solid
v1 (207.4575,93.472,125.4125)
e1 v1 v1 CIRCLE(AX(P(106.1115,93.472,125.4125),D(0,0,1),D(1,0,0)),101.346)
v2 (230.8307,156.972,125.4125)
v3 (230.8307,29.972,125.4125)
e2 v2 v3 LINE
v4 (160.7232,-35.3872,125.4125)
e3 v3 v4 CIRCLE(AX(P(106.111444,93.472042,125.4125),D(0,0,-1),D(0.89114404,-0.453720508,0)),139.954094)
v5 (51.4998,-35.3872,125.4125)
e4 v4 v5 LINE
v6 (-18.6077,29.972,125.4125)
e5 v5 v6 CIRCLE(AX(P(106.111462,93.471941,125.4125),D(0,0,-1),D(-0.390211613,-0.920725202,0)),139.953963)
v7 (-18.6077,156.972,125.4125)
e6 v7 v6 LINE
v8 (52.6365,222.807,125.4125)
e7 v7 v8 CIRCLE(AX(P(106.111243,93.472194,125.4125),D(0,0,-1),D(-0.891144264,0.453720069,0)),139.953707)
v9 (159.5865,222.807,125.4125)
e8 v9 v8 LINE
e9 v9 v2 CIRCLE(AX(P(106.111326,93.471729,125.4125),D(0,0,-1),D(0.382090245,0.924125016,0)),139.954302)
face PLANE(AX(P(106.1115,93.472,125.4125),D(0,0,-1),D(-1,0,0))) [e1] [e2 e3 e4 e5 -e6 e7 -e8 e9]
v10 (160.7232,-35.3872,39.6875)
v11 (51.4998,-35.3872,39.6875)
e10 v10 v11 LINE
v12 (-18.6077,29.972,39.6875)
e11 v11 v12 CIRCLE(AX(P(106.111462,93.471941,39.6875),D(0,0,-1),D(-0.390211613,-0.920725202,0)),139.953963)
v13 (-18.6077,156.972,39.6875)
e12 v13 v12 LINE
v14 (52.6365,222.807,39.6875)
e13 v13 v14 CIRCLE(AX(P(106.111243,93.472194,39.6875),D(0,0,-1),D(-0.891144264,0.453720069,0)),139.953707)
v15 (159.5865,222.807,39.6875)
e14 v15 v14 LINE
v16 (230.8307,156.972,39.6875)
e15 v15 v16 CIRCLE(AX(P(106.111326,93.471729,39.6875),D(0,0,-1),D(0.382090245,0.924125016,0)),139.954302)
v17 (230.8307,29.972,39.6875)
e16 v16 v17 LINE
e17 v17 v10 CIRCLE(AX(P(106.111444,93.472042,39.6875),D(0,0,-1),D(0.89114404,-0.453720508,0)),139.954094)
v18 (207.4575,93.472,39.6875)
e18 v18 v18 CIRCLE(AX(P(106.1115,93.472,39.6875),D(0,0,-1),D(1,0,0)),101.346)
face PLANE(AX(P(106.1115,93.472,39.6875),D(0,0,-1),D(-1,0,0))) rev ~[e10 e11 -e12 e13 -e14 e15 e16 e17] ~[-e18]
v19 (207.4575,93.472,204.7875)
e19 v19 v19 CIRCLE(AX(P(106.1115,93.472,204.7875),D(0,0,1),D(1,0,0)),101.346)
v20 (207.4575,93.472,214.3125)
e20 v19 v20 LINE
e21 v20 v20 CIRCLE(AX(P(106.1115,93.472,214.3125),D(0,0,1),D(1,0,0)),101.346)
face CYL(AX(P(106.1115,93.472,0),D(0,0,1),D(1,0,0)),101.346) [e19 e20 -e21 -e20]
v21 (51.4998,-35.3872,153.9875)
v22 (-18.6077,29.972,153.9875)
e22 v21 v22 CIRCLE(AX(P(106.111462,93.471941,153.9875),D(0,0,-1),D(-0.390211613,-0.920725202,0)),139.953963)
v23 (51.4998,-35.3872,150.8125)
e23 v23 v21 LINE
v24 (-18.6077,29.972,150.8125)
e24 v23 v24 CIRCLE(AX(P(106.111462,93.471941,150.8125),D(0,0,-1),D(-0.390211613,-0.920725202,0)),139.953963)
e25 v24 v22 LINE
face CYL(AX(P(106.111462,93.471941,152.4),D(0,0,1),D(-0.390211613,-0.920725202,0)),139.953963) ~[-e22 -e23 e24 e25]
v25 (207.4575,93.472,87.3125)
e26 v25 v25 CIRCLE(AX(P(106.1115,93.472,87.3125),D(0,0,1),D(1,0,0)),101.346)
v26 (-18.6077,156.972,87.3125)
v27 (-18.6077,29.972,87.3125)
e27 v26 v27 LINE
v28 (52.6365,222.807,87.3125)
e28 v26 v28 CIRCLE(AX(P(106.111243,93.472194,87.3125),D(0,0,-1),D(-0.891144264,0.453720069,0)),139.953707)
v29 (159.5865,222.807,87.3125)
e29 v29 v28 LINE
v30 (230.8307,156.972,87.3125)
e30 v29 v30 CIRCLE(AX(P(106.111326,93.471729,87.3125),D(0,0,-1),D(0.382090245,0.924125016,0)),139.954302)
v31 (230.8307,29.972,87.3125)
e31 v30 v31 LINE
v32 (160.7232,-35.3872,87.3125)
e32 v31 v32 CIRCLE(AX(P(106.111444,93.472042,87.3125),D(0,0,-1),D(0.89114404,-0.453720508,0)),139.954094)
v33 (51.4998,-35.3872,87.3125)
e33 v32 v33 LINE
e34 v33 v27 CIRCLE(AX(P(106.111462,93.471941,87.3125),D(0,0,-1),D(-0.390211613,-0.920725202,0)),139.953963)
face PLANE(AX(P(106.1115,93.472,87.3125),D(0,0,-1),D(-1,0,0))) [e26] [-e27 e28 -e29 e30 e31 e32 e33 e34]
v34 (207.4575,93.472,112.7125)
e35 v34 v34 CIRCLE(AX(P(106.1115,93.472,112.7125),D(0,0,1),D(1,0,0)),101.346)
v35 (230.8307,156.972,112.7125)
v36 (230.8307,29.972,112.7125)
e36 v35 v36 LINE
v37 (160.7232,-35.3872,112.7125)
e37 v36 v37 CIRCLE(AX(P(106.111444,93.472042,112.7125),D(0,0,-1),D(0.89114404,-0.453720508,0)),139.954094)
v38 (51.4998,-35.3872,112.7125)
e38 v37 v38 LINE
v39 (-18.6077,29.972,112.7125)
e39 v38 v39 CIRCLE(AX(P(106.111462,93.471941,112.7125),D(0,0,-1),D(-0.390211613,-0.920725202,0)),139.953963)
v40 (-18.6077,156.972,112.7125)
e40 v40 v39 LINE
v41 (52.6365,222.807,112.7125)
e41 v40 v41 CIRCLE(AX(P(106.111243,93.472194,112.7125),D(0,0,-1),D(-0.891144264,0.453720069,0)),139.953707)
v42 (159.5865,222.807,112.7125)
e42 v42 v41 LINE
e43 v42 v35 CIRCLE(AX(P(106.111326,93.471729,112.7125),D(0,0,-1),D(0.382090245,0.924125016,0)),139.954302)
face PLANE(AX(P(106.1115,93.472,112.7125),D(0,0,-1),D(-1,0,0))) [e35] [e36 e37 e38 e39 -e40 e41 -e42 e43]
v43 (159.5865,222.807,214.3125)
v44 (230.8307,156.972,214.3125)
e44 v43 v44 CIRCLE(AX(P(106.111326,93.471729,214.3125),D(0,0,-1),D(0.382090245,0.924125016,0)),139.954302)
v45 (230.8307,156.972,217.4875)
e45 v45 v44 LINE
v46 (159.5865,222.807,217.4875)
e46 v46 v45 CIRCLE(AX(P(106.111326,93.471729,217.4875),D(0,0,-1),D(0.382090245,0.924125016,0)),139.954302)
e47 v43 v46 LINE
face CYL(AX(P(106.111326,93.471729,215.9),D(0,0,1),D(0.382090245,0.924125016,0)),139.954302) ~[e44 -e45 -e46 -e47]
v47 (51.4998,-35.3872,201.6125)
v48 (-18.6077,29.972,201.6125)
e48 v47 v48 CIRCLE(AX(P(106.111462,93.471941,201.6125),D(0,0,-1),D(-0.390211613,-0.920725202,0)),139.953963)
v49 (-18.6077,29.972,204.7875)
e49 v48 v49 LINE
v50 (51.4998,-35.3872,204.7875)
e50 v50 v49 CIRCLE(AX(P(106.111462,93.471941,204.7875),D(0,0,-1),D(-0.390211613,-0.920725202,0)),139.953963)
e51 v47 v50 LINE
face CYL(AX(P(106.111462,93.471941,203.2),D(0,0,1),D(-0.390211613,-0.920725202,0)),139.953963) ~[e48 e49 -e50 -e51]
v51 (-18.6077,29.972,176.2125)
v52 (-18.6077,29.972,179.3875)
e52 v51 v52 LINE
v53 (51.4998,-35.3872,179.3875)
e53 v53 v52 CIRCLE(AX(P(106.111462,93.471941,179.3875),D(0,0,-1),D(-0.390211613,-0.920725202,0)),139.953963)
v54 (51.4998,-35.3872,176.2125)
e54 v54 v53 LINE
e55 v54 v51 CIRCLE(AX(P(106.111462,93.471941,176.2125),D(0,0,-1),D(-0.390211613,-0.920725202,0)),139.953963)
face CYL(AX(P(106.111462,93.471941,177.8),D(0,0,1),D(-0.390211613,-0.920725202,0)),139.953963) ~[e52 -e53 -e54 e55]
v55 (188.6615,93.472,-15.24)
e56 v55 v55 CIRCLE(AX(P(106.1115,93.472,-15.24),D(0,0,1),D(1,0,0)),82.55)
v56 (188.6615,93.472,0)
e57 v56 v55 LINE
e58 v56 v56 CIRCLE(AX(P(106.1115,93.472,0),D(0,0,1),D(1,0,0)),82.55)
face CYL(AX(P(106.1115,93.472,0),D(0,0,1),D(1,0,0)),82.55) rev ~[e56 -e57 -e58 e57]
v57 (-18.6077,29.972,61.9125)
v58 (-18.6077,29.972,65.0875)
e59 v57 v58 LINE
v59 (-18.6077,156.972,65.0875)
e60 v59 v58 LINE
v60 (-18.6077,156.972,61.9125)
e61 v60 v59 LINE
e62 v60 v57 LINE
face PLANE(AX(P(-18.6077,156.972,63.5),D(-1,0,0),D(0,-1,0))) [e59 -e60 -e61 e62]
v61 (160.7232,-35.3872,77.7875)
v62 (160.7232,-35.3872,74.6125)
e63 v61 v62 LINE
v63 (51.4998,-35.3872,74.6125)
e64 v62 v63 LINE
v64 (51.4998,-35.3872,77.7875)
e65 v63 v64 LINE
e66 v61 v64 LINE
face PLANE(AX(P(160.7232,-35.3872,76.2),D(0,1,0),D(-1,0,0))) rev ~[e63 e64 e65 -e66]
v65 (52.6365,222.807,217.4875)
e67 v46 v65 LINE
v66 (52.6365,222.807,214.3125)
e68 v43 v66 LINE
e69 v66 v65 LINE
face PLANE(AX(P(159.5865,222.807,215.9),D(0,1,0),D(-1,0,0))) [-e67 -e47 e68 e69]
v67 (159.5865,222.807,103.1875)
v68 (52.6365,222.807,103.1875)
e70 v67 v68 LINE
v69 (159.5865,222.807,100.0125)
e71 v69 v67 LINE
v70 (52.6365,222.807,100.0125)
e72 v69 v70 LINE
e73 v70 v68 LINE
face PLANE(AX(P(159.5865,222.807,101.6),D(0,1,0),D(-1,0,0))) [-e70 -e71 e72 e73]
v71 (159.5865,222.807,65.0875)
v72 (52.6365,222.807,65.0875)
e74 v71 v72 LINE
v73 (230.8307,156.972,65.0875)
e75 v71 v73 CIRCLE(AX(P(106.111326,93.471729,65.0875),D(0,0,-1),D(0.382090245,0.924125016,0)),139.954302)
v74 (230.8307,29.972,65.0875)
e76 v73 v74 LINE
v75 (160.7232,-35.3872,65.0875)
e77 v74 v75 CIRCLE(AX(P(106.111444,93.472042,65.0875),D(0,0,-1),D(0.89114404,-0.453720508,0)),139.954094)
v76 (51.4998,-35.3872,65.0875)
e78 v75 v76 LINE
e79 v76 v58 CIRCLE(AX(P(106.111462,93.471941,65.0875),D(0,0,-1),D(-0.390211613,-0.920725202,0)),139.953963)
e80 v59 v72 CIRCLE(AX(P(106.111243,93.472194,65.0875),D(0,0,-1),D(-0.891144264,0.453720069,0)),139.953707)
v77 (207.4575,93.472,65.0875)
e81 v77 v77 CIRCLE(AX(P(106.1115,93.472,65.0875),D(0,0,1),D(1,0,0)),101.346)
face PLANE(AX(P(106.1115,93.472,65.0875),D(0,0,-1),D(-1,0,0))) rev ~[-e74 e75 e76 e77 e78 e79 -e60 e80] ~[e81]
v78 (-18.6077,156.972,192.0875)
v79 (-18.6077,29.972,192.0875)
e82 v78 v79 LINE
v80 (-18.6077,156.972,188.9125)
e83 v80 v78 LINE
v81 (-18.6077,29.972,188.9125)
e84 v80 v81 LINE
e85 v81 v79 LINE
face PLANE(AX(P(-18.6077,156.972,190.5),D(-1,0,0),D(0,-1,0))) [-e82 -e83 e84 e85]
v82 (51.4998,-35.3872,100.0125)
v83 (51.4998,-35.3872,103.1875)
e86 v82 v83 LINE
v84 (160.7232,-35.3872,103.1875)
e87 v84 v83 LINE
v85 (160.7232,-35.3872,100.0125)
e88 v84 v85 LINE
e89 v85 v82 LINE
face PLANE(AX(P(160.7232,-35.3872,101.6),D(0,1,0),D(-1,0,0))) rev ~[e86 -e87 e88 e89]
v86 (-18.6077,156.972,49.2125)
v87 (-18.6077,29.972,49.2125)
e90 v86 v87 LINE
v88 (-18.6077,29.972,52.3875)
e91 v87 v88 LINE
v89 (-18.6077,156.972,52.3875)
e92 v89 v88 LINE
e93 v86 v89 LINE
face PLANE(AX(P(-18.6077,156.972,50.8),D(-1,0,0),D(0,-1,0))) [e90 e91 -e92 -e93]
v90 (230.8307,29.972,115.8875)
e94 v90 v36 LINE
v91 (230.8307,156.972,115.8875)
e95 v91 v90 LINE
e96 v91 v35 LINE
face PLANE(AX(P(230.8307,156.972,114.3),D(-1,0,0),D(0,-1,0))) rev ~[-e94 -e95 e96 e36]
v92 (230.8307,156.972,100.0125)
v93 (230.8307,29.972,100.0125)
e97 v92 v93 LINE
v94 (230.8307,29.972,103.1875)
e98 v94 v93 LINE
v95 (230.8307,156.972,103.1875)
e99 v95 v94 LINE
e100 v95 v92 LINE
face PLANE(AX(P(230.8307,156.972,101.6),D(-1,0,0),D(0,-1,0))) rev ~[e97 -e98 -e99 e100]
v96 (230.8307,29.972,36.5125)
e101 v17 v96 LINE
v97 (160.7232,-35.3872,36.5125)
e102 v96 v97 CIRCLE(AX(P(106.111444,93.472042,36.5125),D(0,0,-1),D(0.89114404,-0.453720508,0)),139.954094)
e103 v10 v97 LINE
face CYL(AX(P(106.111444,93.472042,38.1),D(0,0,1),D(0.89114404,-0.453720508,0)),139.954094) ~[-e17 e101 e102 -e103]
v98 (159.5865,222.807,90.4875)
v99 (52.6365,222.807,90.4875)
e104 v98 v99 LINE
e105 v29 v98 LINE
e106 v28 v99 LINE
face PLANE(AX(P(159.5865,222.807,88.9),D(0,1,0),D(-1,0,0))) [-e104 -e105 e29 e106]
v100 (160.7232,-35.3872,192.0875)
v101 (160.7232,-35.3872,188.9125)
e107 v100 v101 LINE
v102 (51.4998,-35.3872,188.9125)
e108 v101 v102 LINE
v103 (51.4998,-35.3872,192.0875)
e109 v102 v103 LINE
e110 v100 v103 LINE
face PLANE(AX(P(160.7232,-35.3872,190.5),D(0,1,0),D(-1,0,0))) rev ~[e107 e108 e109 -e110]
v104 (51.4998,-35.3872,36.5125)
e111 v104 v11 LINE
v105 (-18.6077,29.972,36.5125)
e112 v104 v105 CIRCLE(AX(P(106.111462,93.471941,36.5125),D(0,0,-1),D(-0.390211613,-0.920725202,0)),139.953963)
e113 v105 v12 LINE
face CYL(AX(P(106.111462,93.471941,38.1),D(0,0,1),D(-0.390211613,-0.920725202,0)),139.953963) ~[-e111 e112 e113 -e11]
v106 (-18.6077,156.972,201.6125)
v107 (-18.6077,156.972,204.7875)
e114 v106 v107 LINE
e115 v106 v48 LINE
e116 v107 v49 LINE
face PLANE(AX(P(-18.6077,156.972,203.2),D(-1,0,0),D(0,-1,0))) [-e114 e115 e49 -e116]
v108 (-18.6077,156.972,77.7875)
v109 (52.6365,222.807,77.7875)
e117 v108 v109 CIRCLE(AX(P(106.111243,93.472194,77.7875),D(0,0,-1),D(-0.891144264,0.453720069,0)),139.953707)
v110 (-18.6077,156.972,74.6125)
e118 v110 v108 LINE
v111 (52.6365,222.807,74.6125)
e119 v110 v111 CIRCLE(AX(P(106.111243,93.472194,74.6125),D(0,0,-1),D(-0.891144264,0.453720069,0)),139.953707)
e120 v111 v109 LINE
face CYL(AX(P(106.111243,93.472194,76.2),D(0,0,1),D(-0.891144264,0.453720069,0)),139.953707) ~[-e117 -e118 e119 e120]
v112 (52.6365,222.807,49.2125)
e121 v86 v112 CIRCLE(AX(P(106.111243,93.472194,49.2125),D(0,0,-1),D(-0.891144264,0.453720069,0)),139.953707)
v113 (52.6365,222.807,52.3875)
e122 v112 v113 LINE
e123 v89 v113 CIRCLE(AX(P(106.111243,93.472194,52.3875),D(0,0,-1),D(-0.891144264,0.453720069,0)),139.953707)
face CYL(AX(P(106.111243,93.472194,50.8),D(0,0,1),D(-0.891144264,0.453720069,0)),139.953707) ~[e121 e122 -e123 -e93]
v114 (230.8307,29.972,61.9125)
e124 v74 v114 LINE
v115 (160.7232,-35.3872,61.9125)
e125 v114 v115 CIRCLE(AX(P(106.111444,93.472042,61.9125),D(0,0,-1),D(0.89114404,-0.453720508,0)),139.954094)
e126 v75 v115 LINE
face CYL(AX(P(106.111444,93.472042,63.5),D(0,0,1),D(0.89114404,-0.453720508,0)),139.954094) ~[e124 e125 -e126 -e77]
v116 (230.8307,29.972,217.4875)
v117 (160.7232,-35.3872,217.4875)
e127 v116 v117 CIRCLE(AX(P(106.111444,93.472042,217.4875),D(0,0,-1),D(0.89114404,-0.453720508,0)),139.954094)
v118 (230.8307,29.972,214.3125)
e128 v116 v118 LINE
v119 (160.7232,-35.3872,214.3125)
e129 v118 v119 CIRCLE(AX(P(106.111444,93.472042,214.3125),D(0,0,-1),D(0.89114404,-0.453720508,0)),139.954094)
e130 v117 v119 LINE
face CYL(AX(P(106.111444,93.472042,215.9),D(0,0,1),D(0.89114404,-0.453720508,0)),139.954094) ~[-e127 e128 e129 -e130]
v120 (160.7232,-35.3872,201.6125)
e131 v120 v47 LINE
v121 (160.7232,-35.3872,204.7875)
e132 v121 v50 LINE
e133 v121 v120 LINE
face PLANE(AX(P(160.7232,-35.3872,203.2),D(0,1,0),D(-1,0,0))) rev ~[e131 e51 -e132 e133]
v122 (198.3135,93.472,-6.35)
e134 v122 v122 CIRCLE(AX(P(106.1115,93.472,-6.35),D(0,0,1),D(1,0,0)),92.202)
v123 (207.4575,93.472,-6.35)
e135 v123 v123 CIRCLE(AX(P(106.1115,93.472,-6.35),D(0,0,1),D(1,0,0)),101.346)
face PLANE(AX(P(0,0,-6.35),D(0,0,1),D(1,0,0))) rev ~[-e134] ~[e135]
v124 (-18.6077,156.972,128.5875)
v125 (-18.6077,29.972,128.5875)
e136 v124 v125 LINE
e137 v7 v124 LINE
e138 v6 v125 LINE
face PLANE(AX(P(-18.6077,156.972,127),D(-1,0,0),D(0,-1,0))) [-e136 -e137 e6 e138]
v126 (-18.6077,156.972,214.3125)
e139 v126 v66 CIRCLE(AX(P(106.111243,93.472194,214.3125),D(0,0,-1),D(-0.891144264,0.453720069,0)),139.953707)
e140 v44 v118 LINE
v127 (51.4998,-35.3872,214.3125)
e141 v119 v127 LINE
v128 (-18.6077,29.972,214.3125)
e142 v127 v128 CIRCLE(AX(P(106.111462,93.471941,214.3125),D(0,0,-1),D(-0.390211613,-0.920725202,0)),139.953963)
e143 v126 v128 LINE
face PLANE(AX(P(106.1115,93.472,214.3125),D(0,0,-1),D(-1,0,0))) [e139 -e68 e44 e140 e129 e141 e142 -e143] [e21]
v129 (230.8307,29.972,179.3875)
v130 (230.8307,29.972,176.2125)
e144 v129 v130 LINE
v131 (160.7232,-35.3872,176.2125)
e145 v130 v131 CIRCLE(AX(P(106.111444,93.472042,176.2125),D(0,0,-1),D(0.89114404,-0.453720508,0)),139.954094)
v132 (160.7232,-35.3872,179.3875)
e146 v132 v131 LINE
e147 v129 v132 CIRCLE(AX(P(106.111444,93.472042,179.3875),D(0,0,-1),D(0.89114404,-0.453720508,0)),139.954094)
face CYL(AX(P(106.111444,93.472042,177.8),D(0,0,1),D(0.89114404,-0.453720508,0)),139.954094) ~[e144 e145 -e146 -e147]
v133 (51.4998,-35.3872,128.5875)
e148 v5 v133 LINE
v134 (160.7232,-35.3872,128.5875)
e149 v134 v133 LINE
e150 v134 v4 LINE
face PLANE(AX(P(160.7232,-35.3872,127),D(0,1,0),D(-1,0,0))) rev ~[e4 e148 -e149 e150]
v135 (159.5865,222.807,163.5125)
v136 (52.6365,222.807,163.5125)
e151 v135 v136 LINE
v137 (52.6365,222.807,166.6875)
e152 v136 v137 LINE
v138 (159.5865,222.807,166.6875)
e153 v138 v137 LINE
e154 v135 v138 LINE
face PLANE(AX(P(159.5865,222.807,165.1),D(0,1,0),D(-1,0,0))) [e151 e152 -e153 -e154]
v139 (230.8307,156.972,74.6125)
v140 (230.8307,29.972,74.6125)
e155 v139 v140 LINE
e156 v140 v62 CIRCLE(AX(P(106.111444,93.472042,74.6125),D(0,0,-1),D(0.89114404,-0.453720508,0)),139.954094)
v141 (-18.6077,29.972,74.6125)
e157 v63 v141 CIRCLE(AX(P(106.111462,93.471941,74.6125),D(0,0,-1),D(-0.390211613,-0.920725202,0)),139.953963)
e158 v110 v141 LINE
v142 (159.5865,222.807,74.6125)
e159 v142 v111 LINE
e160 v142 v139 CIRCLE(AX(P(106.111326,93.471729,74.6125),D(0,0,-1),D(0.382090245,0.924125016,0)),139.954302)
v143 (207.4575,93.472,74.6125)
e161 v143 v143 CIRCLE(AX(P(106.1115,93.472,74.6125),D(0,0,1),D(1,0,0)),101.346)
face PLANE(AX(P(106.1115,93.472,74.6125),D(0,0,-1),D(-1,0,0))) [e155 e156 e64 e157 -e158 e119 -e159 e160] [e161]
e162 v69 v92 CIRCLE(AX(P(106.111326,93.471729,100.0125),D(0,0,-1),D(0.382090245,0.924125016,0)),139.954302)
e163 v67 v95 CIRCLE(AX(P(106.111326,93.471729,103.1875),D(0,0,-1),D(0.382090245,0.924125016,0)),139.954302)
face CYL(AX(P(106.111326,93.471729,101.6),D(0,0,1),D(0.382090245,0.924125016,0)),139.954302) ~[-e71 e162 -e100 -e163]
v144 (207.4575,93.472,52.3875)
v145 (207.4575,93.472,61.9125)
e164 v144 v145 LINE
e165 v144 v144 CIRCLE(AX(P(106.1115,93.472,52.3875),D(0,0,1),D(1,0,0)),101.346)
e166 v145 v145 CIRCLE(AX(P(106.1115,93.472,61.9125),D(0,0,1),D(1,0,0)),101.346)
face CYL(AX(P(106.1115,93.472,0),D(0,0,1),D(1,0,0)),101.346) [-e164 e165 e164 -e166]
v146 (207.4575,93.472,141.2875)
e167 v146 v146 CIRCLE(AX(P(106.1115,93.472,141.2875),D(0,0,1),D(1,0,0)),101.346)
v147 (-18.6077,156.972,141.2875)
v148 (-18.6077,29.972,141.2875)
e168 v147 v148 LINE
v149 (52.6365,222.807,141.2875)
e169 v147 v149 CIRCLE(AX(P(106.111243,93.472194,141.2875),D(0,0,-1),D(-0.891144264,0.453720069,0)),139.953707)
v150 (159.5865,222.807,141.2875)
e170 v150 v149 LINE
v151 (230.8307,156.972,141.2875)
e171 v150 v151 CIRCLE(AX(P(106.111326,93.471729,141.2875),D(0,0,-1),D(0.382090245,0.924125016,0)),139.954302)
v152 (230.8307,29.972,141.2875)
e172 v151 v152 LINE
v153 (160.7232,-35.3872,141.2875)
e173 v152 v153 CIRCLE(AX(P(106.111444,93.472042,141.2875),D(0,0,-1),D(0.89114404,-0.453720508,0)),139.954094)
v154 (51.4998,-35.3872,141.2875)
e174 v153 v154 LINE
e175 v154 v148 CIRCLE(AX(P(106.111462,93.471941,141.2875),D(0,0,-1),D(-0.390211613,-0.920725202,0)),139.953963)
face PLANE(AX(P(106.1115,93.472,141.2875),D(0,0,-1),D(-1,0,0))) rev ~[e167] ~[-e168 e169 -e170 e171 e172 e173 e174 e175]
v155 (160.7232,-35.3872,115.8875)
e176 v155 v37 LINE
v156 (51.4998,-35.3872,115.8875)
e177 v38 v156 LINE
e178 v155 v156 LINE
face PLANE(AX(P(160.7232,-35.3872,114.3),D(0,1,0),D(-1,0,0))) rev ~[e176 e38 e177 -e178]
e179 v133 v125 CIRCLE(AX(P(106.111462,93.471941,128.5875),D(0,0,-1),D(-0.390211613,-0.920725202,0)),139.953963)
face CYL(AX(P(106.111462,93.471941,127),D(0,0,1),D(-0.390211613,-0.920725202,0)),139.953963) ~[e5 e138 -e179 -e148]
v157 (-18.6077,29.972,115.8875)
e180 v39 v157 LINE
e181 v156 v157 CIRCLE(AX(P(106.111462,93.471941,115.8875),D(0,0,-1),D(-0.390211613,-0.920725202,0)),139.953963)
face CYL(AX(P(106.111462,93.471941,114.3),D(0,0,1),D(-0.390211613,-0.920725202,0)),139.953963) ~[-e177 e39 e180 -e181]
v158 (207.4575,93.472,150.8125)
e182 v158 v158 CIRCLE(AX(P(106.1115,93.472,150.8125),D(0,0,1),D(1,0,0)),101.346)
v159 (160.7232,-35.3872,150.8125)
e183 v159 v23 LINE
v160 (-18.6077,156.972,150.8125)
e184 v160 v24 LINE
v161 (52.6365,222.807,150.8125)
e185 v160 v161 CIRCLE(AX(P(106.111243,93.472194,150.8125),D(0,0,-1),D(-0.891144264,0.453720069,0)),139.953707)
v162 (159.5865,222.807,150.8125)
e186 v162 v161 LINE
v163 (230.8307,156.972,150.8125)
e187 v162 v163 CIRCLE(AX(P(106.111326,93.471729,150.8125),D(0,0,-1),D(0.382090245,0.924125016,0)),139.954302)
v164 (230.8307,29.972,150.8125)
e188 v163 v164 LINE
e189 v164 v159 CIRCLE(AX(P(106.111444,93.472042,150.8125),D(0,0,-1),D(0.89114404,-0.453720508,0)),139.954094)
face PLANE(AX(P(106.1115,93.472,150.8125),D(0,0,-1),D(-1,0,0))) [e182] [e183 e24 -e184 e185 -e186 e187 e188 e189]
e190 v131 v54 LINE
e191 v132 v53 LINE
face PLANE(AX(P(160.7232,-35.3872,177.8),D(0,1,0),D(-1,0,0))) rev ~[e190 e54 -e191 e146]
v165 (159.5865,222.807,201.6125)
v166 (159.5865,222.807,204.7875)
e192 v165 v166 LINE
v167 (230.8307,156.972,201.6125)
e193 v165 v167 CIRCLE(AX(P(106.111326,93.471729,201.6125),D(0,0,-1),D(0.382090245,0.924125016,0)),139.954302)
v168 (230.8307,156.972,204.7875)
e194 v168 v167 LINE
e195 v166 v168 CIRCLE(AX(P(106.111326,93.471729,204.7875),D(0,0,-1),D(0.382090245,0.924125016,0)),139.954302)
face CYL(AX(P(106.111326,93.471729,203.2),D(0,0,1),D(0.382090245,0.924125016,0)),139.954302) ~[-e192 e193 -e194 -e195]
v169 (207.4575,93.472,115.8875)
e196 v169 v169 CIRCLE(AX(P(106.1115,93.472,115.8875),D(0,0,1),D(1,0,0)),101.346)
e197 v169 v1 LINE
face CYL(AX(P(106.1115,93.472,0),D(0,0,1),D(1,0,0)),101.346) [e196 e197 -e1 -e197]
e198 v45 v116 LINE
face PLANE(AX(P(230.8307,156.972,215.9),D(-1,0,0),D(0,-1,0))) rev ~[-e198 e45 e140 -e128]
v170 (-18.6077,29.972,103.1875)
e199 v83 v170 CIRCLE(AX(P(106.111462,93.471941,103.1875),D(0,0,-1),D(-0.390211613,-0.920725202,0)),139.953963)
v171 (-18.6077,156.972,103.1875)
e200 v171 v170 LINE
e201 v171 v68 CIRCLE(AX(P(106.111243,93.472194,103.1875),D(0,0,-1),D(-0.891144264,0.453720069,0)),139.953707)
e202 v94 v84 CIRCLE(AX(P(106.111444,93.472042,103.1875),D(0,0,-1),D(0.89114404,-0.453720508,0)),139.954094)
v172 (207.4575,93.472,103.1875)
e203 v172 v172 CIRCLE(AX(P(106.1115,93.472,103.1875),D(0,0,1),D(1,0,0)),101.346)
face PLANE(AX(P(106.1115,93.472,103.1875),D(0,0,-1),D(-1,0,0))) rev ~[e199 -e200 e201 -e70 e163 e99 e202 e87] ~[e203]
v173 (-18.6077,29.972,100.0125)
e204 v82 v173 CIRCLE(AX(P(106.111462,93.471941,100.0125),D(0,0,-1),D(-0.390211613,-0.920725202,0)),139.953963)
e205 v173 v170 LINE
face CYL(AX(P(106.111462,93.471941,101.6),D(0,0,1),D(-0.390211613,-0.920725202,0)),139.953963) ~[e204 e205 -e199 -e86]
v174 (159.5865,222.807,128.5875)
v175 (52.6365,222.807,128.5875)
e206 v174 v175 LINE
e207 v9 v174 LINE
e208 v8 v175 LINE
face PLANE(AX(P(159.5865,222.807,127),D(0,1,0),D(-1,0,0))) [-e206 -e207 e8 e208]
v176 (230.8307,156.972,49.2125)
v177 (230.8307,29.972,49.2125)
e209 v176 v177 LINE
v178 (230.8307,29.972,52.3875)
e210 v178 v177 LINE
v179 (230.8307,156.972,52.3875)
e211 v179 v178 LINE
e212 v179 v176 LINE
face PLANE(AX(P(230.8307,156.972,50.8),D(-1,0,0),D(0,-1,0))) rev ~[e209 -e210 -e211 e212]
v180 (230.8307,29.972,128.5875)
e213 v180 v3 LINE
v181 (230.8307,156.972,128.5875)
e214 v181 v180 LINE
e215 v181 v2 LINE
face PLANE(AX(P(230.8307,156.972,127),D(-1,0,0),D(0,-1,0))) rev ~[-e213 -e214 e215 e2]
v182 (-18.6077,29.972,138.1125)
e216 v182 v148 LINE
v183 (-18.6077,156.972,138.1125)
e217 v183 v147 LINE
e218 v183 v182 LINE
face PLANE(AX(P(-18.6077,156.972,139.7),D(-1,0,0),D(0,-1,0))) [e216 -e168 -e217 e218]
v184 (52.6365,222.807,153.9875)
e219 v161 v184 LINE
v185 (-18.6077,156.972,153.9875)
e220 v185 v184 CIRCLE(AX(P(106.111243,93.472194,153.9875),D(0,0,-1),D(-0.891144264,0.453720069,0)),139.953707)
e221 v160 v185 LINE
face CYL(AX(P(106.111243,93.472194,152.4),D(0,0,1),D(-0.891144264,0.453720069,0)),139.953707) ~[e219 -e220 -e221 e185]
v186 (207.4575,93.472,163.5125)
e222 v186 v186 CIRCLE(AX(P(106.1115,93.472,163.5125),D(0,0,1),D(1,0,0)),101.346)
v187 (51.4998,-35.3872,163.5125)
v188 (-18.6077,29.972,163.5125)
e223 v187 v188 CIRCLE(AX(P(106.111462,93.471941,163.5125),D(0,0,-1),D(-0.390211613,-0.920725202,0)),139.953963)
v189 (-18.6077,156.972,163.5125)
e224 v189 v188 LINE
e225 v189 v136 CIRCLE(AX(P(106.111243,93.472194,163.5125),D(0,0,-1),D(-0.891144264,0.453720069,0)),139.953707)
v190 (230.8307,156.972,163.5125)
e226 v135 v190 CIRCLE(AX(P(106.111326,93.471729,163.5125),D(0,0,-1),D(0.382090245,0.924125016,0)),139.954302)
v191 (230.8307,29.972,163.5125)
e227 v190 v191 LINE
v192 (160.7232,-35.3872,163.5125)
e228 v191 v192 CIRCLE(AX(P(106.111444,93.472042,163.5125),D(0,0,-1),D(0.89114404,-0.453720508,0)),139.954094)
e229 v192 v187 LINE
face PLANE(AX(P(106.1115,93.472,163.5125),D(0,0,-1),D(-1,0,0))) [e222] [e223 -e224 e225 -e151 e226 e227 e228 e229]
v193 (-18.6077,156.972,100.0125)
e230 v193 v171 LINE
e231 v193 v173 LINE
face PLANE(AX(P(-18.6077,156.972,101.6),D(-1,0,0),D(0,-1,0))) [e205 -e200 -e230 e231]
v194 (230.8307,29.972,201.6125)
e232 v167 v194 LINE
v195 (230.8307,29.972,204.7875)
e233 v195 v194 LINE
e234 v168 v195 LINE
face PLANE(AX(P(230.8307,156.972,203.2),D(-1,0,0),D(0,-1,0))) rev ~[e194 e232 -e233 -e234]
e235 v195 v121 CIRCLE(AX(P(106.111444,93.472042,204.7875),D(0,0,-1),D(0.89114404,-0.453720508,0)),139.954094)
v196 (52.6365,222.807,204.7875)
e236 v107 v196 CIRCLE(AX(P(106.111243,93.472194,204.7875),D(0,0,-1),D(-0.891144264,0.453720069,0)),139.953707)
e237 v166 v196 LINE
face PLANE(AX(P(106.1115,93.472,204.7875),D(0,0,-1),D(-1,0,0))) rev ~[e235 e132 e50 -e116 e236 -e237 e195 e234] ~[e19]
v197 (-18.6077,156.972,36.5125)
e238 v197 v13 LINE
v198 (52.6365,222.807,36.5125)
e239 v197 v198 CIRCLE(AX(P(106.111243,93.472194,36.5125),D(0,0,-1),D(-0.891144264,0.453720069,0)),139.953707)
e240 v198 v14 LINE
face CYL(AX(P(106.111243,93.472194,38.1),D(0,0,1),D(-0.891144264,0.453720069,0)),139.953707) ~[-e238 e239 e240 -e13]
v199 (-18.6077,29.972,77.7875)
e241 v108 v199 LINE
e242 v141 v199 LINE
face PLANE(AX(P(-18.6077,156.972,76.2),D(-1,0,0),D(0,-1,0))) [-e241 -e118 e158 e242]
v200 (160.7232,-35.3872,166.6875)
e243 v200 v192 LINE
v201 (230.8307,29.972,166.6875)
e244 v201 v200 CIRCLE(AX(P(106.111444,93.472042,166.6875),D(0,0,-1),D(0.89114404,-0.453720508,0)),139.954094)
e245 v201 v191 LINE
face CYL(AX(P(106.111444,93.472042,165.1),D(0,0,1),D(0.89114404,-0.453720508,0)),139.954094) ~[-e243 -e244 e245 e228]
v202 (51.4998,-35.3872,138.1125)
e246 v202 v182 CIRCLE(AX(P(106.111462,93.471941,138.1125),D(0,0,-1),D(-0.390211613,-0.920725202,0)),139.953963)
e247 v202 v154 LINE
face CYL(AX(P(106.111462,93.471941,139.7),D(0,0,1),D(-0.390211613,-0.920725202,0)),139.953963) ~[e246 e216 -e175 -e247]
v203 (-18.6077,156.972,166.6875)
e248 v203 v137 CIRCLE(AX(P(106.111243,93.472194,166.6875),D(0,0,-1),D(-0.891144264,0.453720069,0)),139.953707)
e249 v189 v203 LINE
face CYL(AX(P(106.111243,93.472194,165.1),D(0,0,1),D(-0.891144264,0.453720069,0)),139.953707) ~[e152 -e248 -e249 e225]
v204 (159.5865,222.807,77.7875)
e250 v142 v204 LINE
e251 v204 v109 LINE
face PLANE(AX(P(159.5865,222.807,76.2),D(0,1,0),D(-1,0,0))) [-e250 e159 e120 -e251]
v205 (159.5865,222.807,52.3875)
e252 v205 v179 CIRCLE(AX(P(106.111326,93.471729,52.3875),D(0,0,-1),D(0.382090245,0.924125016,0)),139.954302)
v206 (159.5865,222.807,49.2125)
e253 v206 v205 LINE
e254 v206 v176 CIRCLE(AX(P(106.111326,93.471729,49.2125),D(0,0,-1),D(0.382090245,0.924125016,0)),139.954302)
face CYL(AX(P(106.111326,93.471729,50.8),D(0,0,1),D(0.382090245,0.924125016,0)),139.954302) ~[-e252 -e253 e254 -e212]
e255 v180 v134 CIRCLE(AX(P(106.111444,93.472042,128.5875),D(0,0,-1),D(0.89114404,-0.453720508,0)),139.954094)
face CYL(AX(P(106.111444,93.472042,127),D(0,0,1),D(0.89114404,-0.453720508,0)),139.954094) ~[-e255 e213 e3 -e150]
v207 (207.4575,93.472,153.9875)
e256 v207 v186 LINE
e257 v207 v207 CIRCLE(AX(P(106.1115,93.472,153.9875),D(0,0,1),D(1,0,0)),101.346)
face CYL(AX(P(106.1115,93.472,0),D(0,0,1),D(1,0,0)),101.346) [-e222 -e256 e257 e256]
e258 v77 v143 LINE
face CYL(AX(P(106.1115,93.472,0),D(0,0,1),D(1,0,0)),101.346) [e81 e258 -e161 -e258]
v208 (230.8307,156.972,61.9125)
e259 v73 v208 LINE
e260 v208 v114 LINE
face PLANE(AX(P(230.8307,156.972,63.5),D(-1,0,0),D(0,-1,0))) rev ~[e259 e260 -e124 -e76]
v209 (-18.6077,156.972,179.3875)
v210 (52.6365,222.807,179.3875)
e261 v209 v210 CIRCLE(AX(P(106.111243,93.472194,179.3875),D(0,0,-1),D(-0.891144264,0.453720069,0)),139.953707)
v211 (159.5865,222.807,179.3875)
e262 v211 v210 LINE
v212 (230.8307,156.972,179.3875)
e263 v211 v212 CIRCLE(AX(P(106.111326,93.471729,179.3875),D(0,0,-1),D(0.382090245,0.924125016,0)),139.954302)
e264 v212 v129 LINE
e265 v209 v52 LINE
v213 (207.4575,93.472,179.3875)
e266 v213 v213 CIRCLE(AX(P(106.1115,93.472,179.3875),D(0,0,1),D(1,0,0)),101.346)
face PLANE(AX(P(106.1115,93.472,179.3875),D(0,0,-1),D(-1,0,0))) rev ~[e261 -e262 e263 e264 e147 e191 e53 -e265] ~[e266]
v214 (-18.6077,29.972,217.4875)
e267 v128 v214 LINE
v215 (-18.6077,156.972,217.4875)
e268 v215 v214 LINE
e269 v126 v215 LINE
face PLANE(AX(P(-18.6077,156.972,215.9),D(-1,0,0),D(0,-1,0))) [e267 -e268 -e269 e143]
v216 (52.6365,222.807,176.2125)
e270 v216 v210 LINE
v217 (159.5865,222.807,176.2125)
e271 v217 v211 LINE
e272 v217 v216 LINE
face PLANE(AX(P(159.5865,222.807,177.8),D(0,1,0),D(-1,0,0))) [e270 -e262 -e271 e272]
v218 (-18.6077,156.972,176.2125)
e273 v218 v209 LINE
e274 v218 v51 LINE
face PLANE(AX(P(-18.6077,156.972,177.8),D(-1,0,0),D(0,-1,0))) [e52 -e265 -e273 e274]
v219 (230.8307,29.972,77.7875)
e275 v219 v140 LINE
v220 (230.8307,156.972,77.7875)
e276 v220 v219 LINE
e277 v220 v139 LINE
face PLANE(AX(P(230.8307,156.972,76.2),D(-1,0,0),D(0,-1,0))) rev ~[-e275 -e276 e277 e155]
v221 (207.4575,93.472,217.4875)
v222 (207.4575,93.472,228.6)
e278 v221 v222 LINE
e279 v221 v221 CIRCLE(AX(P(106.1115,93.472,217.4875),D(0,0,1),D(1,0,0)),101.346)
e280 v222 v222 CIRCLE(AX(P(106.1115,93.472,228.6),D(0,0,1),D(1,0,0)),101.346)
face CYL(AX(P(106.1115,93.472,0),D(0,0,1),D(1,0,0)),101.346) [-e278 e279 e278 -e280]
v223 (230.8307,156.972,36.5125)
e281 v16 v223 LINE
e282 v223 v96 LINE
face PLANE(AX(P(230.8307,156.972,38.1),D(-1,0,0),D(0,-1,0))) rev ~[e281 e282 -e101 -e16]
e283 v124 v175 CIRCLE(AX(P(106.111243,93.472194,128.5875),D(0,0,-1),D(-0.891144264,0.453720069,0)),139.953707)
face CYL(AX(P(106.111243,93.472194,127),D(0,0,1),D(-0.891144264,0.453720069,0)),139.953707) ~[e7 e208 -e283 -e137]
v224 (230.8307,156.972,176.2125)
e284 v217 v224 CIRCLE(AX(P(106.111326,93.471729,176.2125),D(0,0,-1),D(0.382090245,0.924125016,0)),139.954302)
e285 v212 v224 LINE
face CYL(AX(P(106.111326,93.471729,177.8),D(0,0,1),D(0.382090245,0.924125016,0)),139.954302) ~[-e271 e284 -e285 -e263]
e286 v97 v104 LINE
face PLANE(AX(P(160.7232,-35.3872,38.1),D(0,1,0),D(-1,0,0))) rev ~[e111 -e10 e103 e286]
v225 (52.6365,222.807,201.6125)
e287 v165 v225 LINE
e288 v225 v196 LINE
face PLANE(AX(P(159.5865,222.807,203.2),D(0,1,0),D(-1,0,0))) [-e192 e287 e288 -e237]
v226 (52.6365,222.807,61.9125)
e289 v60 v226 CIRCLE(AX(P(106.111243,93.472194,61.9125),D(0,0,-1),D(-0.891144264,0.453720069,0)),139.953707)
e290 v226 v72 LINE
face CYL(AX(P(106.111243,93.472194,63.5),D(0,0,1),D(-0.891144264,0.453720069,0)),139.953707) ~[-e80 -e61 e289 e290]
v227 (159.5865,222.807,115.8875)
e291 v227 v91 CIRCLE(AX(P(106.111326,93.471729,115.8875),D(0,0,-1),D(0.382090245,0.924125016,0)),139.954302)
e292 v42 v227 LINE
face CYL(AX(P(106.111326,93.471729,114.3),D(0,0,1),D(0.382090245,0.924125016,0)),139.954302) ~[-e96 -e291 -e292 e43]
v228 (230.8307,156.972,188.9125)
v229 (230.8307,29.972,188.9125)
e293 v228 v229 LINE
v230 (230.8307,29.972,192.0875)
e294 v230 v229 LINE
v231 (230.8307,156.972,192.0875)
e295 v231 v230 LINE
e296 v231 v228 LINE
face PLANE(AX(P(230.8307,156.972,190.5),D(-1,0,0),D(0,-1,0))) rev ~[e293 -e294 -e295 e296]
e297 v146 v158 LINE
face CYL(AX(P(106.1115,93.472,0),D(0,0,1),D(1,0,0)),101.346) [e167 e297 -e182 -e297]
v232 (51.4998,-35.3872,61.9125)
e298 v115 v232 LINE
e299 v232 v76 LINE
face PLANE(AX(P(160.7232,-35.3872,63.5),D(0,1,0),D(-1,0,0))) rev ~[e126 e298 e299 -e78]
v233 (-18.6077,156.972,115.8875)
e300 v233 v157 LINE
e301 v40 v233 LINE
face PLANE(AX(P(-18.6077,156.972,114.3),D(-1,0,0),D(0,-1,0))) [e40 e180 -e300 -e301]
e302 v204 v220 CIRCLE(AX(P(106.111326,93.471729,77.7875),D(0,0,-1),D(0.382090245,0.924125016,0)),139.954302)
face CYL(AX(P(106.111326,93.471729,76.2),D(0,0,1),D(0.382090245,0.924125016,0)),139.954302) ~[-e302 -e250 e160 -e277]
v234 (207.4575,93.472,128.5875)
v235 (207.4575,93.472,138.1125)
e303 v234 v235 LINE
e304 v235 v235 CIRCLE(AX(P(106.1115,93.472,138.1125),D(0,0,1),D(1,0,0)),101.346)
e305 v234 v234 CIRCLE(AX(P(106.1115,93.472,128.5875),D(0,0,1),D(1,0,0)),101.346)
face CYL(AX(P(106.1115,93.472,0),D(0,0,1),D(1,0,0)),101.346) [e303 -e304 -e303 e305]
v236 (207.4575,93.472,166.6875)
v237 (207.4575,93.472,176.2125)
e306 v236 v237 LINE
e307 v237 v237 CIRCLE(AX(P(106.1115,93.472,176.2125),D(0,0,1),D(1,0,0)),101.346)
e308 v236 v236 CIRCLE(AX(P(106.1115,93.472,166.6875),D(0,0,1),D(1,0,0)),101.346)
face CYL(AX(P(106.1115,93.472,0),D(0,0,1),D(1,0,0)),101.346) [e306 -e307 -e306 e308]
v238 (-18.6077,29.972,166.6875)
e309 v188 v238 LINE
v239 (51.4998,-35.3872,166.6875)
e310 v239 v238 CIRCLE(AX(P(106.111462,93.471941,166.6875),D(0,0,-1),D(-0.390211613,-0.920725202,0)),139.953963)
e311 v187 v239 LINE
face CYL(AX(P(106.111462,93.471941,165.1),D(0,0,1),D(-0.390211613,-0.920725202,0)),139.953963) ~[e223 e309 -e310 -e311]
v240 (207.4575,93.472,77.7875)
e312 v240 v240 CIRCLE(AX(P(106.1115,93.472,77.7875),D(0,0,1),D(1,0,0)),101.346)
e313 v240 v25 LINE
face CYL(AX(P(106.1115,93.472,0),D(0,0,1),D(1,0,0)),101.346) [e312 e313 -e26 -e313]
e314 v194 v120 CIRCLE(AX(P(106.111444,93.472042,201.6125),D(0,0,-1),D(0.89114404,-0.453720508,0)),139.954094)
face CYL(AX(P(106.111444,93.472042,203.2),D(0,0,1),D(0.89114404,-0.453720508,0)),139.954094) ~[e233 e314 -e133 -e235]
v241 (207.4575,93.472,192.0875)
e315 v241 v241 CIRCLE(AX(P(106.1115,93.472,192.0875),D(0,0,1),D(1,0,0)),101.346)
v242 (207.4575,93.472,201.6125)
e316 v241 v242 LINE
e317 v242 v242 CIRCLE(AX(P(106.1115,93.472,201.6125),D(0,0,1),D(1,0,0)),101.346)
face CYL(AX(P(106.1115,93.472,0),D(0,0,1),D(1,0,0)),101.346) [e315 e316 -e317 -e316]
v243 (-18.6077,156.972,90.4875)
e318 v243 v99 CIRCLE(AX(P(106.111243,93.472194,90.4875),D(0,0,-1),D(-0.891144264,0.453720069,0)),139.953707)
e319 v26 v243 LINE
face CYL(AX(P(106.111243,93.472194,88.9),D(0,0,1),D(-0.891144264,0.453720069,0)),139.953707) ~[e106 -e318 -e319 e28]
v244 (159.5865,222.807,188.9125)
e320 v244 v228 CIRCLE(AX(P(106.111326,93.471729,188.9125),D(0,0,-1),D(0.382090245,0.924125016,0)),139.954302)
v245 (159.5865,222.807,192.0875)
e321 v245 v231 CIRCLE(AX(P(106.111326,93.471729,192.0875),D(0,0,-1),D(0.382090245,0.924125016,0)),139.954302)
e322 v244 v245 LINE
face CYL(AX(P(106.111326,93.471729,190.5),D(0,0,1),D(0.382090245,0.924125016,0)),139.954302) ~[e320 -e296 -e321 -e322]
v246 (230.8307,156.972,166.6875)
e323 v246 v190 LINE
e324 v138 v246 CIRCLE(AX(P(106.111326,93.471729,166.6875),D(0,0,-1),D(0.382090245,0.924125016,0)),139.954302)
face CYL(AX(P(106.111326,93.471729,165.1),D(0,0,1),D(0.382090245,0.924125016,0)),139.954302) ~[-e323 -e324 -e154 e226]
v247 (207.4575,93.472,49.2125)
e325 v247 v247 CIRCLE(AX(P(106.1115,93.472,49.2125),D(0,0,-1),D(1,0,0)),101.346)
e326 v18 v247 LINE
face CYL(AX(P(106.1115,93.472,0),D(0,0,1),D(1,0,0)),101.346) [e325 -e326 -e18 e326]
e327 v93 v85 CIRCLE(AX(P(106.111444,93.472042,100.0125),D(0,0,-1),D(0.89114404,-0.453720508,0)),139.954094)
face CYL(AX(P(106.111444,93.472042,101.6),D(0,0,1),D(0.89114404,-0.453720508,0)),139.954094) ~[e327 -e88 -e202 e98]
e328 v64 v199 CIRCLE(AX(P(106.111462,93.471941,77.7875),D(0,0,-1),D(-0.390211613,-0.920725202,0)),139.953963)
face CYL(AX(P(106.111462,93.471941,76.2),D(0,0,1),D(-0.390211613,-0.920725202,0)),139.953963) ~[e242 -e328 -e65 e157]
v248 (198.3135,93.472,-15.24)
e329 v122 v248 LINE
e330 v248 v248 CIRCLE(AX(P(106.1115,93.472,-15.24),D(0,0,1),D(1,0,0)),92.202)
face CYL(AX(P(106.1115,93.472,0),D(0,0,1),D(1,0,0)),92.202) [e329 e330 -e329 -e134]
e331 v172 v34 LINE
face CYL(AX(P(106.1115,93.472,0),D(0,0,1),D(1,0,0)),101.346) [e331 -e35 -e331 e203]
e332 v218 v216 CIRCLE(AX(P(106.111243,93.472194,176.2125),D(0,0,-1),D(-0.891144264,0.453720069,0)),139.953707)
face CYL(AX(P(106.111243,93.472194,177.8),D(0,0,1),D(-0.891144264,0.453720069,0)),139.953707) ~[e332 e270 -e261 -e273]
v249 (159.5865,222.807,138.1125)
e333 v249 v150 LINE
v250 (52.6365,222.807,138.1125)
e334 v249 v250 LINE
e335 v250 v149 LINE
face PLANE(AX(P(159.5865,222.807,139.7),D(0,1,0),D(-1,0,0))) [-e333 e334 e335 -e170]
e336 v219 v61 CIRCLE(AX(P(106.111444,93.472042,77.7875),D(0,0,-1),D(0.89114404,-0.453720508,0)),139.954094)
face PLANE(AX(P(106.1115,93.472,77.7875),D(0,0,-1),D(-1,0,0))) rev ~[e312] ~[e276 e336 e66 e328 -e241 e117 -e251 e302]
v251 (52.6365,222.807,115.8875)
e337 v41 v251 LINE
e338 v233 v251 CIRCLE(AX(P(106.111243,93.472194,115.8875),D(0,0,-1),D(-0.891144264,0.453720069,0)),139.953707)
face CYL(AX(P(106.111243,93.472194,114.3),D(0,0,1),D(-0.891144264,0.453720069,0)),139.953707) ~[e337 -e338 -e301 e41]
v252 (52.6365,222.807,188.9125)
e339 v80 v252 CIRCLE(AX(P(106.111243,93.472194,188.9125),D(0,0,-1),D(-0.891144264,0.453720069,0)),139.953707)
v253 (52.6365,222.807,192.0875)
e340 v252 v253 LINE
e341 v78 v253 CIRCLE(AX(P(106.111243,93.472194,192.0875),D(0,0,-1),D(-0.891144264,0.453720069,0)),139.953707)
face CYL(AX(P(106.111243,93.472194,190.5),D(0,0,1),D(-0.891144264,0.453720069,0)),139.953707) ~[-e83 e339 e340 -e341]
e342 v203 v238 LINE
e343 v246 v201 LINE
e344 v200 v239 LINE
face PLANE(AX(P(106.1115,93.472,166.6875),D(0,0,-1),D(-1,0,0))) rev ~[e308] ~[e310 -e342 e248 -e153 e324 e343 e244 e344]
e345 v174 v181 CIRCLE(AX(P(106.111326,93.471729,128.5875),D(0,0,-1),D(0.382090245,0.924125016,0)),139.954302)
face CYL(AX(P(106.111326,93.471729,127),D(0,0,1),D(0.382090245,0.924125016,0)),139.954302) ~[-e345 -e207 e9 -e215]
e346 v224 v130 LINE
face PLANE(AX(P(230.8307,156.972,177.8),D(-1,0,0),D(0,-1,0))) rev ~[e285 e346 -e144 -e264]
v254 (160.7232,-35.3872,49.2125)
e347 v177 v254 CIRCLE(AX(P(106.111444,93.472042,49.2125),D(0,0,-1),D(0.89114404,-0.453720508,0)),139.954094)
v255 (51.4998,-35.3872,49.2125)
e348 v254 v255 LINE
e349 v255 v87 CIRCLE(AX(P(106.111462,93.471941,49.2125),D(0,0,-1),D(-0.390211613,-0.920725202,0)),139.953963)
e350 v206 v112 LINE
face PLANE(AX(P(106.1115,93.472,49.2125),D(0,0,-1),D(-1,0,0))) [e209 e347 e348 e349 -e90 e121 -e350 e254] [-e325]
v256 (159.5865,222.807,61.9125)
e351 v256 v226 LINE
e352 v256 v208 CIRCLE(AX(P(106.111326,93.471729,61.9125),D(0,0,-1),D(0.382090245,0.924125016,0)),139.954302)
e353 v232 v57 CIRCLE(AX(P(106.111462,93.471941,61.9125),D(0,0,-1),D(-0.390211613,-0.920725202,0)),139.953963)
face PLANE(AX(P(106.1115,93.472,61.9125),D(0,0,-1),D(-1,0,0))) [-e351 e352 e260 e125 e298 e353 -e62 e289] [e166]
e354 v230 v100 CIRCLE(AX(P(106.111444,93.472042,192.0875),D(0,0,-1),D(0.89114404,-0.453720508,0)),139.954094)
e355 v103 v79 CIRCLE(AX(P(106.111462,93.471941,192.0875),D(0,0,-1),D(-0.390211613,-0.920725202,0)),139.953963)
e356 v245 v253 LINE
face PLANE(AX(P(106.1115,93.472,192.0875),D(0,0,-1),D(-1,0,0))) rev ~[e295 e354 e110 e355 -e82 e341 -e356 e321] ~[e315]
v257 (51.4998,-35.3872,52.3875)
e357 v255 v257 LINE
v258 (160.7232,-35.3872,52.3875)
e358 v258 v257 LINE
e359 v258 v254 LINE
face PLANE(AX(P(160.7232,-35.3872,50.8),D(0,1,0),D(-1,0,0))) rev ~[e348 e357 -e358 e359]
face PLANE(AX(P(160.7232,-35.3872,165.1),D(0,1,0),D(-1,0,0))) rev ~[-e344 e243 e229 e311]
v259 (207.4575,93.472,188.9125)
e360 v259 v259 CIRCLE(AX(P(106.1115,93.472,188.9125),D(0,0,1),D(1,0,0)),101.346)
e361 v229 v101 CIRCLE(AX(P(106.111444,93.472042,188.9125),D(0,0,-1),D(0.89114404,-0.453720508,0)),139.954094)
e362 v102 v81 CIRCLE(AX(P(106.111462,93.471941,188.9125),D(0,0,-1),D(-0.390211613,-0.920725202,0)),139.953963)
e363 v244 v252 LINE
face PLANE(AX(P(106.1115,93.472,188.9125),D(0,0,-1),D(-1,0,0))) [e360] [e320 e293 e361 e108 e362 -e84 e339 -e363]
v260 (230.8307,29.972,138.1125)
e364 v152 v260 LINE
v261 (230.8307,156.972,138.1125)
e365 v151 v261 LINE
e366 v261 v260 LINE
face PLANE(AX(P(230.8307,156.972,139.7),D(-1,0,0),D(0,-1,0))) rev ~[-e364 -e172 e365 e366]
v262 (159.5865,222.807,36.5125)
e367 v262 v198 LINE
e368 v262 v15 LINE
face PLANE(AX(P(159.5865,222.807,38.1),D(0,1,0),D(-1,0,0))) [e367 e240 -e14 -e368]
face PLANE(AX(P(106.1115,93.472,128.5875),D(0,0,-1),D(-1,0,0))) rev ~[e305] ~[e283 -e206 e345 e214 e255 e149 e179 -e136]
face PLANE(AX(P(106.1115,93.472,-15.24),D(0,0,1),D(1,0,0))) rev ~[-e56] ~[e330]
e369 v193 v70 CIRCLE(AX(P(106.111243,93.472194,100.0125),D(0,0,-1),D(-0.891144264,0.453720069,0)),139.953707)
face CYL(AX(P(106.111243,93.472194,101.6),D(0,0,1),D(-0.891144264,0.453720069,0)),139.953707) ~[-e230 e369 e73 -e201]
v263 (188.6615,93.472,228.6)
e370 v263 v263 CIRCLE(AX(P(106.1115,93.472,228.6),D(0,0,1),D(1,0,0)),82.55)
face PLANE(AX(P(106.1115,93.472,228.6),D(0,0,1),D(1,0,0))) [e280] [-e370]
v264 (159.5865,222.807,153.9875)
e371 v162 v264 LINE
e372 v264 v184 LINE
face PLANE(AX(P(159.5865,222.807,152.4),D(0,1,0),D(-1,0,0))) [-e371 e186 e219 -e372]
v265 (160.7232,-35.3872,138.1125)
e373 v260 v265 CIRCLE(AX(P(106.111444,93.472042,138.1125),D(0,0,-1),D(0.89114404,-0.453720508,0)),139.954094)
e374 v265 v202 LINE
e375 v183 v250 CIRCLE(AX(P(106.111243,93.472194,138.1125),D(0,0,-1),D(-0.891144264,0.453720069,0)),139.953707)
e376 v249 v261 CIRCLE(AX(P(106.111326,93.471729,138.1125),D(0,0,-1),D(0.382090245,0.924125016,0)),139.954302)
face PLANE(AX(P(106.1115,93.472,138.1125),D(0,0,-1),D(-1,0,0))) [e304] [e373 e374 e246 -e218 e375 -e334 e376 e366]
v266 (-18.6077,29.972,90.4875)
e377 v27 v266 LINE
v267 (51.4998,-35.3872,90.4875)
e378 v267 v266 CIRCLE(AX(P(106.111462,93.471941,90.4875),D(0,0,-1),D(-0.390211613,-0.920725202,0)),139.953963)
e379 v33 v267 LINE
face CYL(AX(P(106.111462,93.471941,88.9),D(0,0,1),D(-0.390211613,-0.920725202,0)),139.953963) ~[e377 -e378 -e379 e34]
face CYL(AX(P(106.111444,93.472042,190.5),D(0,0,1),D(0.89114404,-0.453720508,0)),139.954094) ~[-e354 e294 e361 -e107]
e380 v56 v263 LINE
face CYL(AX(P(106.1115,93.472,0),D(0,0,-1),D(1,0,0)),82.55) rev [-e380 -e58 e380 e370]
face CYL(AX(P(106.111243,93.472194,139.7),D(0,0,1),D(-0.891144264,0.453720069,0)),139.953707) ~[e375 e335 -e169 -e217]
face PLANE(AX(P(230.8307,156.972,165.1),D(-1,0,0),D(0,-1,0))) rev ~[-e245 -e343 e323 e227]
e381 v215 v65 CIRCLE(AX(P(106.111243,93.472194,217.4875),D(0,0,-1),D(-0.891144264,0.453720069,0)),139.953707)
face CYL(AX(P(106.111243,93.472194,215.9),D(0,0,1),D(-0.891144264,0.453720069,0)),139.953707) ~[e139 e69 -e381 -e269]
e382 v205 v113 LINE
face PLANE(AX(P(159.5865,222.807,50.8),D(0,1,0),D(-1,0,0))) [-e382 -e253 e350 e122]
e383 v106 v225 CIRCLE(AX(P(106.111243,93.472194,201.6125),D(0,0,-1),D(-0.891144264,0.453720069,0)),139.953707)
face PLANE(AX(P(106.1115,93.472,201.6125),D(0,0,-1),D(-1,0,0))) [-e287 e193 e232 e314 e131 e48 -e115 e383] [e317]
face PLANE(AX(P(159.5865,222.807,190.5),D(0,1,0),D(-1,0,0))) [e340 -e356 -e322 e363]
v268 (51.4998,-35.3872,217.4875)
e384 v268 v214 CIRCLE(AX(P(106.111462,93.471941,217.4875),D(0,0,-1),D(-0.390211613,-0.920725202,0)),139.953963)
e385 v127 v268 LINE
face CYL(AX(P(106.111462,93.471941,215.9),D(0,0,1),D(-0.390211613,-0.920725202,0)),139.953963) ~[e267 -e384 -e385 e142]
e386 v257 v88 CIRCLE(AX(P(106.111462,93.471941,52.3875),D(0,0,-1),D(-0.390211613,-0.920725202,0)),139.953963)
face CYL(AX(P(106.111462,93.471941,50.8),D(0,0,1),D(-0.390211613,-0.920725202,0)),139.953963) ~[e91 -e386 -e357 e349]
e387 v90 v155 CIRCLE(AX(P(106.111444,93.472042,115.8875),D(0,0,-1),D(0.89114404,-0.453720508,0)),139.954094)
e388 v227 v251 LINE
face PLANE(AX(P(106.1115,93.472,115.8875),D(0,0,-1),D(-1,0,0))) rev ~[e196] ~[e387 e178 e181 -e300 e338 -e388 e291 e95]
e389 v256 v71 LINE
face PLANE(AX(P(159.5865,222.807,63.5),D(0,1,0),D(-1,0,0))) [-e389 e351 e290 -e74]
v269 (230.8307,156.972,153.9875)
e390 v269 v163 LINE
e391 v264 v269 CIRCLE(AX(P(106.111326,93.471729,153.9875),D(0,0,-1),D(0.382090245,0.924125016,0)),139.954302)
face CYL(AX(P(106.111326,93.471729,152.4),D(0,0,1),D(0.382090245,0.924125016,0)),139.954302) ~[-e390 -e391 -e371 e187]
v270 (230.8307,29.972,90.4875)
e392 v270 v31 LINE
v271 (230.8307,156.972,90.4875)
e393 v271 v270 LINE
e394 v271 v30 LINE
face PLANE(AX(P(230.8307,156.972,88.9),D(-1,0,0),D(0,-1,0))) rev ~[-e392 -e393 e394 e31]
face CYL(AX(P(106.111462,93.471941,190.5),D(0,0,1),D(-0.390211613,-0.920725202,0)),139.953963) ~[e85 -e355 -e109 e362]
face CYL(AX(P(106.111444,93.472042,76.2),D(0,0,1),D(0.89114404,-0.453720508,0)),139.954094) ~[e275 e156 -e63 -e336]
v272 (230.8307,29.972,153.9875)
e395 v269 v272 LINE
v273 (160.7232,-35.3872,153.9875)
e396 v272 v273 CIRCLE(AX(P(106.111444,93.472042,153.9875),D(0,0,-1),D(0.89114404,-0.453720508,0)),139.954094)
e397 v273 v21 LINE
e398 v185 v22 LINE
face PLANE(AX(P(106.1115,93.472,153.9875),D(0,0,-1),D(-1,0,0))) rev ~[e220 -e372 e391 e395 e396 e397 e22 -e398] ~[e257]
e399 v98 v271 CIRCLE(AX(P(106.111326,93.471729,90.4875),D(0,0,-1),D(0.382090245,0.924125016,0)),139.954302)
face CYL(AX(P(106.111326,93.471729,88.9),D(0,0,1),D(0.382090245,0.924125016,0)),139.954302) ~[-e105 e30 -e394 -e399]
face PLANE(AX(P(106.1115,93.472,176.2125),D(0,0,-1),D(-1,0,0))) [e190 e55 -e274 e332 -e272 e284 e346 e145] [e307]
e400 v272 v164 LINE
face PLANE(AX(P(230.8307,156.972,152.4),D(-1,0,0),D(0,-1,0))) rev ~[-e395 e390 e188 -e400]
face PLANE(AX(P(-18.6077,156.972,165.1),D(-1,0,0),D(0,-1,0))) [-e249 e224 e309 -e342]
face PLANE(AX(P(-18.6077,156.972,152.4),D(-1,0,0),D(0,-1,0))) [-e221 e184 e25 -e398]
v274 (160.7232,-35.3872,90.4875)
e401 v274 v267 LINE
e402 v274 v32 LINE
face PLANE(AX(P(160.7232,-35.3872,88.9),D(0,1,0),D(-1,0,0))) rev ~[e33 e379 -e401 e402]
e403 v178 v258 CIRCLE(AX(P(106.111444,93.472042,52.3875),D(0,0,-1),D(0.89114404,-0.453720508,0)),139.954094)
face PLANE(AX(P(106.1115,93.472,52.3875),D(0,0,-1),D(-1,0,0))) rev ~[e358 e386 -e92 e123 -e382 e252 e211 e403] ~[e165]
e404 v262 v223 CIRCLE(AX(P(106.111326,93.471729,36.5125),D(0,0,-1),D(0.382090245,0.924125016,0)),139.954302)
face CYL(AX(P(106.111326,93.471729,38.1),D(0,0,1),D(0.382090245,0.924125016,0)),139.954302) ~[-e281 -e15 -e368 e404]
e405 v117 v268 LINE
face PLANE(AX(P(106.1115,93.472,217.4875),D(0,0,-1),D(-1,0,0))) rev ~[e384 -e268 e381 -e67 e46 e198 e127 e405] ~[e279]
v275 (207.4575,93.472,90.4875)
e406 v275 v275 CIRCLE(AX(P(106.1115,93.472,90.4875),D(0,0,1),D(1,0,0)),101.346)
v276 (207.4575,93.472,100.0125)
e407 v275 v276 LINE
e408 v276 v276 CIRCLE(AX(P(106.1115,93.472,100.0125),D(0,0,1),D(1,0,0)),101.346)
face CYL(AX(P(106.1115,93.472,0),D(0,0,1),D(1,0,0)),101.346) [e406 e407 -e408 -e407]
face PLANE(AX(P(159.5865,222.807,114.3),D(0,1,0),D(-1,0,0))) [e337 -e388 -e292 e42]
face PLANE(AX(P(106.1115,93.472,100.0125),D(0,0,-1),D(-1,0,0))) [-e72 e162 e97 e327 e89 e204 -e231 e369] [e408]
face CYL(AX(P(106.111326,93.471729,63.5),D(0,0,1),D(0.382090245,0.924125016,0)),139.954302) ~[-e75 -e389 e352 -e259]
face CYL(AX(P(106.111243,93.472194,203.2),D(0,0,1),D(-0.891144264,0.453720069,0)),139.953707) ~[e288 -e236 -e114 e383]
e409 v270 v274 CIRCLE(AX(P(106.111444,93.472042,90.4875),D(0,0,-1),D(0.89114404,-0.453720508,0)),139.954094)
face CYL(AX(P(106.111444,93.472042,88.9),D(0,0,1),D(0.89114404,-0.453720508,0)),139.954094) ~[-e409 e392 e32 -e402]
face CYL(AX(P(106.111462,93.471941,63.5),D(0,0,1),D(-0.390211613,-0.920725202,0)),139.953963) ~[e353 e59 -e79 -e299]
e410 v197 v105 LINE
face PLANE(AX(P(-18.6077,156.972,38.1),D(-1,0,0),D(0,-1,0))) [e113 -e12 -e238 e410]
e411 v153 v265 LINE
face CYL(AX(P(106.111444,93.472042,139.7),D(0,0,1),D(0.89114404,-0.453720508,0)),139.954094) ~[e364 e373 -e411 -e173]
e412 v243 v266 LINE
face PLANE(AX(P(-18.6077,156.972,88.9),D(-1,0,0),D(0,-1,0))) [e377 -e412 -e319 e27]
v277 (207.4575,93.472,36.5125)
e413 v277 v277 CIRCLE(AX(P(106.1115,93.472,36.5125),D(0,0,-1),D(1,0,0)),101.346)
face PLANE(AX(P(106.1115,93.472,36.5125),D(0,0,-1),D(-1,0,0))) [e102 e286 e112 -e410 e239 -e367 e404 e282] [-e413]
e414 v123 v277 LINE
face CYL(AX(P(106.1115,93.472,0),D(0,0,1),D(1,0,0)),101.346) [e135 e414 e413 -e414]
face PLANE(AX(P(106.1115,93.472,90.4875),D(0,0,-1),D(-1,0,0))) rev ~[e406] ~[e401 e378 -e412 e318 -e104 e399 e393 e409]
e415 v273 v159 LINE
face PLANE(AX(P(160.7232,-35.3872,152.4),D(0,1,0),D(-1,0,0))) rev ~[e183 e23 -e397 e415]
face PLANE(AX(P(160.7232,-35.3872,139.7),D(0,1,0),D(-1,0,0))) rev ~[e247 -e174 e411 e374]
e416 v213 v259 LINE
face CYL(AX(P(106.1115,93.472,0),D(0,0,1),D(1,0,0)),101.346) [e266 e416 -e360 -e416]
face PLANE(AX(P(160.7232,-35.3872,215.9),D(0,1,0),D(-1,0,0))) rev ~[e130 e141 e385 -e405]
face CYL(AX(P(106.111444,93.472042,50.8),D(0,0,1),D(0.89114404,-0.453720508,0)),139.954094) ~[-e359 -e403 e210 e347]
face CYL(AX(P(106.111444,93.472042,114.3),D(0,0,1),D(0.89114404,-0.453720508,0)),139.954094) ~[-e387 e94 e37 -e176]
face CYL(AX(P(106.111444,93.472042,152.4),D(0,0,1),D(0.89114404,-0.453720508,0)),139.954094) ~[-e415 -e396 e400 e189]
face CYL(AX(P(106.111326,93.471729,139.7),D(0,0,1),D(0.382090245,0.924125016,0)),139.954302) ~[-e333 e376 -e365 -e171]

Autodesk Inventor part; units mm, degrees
sketch "Sketch1" plane through (0, 0, 0) normal (0, 0, 1) x (1, 0, 0)
  circle A0 centre (106.1115, 93.472) radius 92.202 projected
  circle A1 centre (106.1115, 93.472) radius 101.346
  dimension "d2" = 9.144
extrude "Extrusion1" add sketch "Sketch1" against normal blind 6.35
sketch "Sketch2" plane through (106.1115, 93.472, 0) normal (0, 0, 1) x (1, 0, 0)
  circle A0 centre (0, 0) radius 92.202 projected
  circle A1 centre (0, 0) radius 101.346 projected
  circle A2 centre (0, 0) radius 82.55
  dimension "d5" = 9.652
extrude "Extrusion2" add sketch "Sketch2" along normal blind 228.6 contours A0 | A1
extrude "Extrusion3" add sketch "Sketch2" against normal blind 15.24 contours A0
ref_plane "Work Plane1" through (106.1115, 93.472, 38.1) normal (0, 0, -1) x (-1, 0, 0)
sketch "Sketch3" plane through (106.1115, 93.472, 38.1) normal (0, 0, -1) x (-1, 0, 0)
  circle A0 centre (0, 0) radius 101.346 projected
  line L0 (-124.7192, 63.5) -> (-124.7192, -63.5)
  line L1 (-53.475, 129.335) -> (53.475, 129.335)
  line L2 (-54.6117, -128.8592) -> (54.6117, -128.8592)
  line L3 (124.7192, 63.5) -> (124.7192, -63.5)
  arc A1 (-53.475, 129.335) -> (-124.7192, 63.5) centre (0, 0) ccw
  arc A2 (-124.7192, -63.5) -> (-54.6117, -128.8592) centre (0, 0) ccw
  arc A3 (54.6117, -128.8592) -> (124.7192, -63.5) centre (0, 0) ccw
  arc A4 (124.7192, 63.5) -> (53.475, 129.335) centre (0, 0) ccw
  dimension "d12" = 63.5
  dimension "d13" = 63.5
  dimension "d14" = 54.6117
  dimension "d15" = 53.475
extrude "Extrusion4" add sketch "Sketch3" along normal mid plane 3.175
pattern_linear "Rectangular Pattern1" count 15 spacing 12.7 along (0, 0, 1) of "Extrusion4"
ref_plane "Work Plane2" through (106.1115, 93.472, 0) normal (0, 1, 0) x (0, 0, 1)
ref_plane "Work Plane3" through (106.1115, 93.472, 0) normal (1, 0, 0) x (0, 0, 1)
equation "\"d13\" = d12"
properties part number "Rcylinder" material "Aluminum-6061"
